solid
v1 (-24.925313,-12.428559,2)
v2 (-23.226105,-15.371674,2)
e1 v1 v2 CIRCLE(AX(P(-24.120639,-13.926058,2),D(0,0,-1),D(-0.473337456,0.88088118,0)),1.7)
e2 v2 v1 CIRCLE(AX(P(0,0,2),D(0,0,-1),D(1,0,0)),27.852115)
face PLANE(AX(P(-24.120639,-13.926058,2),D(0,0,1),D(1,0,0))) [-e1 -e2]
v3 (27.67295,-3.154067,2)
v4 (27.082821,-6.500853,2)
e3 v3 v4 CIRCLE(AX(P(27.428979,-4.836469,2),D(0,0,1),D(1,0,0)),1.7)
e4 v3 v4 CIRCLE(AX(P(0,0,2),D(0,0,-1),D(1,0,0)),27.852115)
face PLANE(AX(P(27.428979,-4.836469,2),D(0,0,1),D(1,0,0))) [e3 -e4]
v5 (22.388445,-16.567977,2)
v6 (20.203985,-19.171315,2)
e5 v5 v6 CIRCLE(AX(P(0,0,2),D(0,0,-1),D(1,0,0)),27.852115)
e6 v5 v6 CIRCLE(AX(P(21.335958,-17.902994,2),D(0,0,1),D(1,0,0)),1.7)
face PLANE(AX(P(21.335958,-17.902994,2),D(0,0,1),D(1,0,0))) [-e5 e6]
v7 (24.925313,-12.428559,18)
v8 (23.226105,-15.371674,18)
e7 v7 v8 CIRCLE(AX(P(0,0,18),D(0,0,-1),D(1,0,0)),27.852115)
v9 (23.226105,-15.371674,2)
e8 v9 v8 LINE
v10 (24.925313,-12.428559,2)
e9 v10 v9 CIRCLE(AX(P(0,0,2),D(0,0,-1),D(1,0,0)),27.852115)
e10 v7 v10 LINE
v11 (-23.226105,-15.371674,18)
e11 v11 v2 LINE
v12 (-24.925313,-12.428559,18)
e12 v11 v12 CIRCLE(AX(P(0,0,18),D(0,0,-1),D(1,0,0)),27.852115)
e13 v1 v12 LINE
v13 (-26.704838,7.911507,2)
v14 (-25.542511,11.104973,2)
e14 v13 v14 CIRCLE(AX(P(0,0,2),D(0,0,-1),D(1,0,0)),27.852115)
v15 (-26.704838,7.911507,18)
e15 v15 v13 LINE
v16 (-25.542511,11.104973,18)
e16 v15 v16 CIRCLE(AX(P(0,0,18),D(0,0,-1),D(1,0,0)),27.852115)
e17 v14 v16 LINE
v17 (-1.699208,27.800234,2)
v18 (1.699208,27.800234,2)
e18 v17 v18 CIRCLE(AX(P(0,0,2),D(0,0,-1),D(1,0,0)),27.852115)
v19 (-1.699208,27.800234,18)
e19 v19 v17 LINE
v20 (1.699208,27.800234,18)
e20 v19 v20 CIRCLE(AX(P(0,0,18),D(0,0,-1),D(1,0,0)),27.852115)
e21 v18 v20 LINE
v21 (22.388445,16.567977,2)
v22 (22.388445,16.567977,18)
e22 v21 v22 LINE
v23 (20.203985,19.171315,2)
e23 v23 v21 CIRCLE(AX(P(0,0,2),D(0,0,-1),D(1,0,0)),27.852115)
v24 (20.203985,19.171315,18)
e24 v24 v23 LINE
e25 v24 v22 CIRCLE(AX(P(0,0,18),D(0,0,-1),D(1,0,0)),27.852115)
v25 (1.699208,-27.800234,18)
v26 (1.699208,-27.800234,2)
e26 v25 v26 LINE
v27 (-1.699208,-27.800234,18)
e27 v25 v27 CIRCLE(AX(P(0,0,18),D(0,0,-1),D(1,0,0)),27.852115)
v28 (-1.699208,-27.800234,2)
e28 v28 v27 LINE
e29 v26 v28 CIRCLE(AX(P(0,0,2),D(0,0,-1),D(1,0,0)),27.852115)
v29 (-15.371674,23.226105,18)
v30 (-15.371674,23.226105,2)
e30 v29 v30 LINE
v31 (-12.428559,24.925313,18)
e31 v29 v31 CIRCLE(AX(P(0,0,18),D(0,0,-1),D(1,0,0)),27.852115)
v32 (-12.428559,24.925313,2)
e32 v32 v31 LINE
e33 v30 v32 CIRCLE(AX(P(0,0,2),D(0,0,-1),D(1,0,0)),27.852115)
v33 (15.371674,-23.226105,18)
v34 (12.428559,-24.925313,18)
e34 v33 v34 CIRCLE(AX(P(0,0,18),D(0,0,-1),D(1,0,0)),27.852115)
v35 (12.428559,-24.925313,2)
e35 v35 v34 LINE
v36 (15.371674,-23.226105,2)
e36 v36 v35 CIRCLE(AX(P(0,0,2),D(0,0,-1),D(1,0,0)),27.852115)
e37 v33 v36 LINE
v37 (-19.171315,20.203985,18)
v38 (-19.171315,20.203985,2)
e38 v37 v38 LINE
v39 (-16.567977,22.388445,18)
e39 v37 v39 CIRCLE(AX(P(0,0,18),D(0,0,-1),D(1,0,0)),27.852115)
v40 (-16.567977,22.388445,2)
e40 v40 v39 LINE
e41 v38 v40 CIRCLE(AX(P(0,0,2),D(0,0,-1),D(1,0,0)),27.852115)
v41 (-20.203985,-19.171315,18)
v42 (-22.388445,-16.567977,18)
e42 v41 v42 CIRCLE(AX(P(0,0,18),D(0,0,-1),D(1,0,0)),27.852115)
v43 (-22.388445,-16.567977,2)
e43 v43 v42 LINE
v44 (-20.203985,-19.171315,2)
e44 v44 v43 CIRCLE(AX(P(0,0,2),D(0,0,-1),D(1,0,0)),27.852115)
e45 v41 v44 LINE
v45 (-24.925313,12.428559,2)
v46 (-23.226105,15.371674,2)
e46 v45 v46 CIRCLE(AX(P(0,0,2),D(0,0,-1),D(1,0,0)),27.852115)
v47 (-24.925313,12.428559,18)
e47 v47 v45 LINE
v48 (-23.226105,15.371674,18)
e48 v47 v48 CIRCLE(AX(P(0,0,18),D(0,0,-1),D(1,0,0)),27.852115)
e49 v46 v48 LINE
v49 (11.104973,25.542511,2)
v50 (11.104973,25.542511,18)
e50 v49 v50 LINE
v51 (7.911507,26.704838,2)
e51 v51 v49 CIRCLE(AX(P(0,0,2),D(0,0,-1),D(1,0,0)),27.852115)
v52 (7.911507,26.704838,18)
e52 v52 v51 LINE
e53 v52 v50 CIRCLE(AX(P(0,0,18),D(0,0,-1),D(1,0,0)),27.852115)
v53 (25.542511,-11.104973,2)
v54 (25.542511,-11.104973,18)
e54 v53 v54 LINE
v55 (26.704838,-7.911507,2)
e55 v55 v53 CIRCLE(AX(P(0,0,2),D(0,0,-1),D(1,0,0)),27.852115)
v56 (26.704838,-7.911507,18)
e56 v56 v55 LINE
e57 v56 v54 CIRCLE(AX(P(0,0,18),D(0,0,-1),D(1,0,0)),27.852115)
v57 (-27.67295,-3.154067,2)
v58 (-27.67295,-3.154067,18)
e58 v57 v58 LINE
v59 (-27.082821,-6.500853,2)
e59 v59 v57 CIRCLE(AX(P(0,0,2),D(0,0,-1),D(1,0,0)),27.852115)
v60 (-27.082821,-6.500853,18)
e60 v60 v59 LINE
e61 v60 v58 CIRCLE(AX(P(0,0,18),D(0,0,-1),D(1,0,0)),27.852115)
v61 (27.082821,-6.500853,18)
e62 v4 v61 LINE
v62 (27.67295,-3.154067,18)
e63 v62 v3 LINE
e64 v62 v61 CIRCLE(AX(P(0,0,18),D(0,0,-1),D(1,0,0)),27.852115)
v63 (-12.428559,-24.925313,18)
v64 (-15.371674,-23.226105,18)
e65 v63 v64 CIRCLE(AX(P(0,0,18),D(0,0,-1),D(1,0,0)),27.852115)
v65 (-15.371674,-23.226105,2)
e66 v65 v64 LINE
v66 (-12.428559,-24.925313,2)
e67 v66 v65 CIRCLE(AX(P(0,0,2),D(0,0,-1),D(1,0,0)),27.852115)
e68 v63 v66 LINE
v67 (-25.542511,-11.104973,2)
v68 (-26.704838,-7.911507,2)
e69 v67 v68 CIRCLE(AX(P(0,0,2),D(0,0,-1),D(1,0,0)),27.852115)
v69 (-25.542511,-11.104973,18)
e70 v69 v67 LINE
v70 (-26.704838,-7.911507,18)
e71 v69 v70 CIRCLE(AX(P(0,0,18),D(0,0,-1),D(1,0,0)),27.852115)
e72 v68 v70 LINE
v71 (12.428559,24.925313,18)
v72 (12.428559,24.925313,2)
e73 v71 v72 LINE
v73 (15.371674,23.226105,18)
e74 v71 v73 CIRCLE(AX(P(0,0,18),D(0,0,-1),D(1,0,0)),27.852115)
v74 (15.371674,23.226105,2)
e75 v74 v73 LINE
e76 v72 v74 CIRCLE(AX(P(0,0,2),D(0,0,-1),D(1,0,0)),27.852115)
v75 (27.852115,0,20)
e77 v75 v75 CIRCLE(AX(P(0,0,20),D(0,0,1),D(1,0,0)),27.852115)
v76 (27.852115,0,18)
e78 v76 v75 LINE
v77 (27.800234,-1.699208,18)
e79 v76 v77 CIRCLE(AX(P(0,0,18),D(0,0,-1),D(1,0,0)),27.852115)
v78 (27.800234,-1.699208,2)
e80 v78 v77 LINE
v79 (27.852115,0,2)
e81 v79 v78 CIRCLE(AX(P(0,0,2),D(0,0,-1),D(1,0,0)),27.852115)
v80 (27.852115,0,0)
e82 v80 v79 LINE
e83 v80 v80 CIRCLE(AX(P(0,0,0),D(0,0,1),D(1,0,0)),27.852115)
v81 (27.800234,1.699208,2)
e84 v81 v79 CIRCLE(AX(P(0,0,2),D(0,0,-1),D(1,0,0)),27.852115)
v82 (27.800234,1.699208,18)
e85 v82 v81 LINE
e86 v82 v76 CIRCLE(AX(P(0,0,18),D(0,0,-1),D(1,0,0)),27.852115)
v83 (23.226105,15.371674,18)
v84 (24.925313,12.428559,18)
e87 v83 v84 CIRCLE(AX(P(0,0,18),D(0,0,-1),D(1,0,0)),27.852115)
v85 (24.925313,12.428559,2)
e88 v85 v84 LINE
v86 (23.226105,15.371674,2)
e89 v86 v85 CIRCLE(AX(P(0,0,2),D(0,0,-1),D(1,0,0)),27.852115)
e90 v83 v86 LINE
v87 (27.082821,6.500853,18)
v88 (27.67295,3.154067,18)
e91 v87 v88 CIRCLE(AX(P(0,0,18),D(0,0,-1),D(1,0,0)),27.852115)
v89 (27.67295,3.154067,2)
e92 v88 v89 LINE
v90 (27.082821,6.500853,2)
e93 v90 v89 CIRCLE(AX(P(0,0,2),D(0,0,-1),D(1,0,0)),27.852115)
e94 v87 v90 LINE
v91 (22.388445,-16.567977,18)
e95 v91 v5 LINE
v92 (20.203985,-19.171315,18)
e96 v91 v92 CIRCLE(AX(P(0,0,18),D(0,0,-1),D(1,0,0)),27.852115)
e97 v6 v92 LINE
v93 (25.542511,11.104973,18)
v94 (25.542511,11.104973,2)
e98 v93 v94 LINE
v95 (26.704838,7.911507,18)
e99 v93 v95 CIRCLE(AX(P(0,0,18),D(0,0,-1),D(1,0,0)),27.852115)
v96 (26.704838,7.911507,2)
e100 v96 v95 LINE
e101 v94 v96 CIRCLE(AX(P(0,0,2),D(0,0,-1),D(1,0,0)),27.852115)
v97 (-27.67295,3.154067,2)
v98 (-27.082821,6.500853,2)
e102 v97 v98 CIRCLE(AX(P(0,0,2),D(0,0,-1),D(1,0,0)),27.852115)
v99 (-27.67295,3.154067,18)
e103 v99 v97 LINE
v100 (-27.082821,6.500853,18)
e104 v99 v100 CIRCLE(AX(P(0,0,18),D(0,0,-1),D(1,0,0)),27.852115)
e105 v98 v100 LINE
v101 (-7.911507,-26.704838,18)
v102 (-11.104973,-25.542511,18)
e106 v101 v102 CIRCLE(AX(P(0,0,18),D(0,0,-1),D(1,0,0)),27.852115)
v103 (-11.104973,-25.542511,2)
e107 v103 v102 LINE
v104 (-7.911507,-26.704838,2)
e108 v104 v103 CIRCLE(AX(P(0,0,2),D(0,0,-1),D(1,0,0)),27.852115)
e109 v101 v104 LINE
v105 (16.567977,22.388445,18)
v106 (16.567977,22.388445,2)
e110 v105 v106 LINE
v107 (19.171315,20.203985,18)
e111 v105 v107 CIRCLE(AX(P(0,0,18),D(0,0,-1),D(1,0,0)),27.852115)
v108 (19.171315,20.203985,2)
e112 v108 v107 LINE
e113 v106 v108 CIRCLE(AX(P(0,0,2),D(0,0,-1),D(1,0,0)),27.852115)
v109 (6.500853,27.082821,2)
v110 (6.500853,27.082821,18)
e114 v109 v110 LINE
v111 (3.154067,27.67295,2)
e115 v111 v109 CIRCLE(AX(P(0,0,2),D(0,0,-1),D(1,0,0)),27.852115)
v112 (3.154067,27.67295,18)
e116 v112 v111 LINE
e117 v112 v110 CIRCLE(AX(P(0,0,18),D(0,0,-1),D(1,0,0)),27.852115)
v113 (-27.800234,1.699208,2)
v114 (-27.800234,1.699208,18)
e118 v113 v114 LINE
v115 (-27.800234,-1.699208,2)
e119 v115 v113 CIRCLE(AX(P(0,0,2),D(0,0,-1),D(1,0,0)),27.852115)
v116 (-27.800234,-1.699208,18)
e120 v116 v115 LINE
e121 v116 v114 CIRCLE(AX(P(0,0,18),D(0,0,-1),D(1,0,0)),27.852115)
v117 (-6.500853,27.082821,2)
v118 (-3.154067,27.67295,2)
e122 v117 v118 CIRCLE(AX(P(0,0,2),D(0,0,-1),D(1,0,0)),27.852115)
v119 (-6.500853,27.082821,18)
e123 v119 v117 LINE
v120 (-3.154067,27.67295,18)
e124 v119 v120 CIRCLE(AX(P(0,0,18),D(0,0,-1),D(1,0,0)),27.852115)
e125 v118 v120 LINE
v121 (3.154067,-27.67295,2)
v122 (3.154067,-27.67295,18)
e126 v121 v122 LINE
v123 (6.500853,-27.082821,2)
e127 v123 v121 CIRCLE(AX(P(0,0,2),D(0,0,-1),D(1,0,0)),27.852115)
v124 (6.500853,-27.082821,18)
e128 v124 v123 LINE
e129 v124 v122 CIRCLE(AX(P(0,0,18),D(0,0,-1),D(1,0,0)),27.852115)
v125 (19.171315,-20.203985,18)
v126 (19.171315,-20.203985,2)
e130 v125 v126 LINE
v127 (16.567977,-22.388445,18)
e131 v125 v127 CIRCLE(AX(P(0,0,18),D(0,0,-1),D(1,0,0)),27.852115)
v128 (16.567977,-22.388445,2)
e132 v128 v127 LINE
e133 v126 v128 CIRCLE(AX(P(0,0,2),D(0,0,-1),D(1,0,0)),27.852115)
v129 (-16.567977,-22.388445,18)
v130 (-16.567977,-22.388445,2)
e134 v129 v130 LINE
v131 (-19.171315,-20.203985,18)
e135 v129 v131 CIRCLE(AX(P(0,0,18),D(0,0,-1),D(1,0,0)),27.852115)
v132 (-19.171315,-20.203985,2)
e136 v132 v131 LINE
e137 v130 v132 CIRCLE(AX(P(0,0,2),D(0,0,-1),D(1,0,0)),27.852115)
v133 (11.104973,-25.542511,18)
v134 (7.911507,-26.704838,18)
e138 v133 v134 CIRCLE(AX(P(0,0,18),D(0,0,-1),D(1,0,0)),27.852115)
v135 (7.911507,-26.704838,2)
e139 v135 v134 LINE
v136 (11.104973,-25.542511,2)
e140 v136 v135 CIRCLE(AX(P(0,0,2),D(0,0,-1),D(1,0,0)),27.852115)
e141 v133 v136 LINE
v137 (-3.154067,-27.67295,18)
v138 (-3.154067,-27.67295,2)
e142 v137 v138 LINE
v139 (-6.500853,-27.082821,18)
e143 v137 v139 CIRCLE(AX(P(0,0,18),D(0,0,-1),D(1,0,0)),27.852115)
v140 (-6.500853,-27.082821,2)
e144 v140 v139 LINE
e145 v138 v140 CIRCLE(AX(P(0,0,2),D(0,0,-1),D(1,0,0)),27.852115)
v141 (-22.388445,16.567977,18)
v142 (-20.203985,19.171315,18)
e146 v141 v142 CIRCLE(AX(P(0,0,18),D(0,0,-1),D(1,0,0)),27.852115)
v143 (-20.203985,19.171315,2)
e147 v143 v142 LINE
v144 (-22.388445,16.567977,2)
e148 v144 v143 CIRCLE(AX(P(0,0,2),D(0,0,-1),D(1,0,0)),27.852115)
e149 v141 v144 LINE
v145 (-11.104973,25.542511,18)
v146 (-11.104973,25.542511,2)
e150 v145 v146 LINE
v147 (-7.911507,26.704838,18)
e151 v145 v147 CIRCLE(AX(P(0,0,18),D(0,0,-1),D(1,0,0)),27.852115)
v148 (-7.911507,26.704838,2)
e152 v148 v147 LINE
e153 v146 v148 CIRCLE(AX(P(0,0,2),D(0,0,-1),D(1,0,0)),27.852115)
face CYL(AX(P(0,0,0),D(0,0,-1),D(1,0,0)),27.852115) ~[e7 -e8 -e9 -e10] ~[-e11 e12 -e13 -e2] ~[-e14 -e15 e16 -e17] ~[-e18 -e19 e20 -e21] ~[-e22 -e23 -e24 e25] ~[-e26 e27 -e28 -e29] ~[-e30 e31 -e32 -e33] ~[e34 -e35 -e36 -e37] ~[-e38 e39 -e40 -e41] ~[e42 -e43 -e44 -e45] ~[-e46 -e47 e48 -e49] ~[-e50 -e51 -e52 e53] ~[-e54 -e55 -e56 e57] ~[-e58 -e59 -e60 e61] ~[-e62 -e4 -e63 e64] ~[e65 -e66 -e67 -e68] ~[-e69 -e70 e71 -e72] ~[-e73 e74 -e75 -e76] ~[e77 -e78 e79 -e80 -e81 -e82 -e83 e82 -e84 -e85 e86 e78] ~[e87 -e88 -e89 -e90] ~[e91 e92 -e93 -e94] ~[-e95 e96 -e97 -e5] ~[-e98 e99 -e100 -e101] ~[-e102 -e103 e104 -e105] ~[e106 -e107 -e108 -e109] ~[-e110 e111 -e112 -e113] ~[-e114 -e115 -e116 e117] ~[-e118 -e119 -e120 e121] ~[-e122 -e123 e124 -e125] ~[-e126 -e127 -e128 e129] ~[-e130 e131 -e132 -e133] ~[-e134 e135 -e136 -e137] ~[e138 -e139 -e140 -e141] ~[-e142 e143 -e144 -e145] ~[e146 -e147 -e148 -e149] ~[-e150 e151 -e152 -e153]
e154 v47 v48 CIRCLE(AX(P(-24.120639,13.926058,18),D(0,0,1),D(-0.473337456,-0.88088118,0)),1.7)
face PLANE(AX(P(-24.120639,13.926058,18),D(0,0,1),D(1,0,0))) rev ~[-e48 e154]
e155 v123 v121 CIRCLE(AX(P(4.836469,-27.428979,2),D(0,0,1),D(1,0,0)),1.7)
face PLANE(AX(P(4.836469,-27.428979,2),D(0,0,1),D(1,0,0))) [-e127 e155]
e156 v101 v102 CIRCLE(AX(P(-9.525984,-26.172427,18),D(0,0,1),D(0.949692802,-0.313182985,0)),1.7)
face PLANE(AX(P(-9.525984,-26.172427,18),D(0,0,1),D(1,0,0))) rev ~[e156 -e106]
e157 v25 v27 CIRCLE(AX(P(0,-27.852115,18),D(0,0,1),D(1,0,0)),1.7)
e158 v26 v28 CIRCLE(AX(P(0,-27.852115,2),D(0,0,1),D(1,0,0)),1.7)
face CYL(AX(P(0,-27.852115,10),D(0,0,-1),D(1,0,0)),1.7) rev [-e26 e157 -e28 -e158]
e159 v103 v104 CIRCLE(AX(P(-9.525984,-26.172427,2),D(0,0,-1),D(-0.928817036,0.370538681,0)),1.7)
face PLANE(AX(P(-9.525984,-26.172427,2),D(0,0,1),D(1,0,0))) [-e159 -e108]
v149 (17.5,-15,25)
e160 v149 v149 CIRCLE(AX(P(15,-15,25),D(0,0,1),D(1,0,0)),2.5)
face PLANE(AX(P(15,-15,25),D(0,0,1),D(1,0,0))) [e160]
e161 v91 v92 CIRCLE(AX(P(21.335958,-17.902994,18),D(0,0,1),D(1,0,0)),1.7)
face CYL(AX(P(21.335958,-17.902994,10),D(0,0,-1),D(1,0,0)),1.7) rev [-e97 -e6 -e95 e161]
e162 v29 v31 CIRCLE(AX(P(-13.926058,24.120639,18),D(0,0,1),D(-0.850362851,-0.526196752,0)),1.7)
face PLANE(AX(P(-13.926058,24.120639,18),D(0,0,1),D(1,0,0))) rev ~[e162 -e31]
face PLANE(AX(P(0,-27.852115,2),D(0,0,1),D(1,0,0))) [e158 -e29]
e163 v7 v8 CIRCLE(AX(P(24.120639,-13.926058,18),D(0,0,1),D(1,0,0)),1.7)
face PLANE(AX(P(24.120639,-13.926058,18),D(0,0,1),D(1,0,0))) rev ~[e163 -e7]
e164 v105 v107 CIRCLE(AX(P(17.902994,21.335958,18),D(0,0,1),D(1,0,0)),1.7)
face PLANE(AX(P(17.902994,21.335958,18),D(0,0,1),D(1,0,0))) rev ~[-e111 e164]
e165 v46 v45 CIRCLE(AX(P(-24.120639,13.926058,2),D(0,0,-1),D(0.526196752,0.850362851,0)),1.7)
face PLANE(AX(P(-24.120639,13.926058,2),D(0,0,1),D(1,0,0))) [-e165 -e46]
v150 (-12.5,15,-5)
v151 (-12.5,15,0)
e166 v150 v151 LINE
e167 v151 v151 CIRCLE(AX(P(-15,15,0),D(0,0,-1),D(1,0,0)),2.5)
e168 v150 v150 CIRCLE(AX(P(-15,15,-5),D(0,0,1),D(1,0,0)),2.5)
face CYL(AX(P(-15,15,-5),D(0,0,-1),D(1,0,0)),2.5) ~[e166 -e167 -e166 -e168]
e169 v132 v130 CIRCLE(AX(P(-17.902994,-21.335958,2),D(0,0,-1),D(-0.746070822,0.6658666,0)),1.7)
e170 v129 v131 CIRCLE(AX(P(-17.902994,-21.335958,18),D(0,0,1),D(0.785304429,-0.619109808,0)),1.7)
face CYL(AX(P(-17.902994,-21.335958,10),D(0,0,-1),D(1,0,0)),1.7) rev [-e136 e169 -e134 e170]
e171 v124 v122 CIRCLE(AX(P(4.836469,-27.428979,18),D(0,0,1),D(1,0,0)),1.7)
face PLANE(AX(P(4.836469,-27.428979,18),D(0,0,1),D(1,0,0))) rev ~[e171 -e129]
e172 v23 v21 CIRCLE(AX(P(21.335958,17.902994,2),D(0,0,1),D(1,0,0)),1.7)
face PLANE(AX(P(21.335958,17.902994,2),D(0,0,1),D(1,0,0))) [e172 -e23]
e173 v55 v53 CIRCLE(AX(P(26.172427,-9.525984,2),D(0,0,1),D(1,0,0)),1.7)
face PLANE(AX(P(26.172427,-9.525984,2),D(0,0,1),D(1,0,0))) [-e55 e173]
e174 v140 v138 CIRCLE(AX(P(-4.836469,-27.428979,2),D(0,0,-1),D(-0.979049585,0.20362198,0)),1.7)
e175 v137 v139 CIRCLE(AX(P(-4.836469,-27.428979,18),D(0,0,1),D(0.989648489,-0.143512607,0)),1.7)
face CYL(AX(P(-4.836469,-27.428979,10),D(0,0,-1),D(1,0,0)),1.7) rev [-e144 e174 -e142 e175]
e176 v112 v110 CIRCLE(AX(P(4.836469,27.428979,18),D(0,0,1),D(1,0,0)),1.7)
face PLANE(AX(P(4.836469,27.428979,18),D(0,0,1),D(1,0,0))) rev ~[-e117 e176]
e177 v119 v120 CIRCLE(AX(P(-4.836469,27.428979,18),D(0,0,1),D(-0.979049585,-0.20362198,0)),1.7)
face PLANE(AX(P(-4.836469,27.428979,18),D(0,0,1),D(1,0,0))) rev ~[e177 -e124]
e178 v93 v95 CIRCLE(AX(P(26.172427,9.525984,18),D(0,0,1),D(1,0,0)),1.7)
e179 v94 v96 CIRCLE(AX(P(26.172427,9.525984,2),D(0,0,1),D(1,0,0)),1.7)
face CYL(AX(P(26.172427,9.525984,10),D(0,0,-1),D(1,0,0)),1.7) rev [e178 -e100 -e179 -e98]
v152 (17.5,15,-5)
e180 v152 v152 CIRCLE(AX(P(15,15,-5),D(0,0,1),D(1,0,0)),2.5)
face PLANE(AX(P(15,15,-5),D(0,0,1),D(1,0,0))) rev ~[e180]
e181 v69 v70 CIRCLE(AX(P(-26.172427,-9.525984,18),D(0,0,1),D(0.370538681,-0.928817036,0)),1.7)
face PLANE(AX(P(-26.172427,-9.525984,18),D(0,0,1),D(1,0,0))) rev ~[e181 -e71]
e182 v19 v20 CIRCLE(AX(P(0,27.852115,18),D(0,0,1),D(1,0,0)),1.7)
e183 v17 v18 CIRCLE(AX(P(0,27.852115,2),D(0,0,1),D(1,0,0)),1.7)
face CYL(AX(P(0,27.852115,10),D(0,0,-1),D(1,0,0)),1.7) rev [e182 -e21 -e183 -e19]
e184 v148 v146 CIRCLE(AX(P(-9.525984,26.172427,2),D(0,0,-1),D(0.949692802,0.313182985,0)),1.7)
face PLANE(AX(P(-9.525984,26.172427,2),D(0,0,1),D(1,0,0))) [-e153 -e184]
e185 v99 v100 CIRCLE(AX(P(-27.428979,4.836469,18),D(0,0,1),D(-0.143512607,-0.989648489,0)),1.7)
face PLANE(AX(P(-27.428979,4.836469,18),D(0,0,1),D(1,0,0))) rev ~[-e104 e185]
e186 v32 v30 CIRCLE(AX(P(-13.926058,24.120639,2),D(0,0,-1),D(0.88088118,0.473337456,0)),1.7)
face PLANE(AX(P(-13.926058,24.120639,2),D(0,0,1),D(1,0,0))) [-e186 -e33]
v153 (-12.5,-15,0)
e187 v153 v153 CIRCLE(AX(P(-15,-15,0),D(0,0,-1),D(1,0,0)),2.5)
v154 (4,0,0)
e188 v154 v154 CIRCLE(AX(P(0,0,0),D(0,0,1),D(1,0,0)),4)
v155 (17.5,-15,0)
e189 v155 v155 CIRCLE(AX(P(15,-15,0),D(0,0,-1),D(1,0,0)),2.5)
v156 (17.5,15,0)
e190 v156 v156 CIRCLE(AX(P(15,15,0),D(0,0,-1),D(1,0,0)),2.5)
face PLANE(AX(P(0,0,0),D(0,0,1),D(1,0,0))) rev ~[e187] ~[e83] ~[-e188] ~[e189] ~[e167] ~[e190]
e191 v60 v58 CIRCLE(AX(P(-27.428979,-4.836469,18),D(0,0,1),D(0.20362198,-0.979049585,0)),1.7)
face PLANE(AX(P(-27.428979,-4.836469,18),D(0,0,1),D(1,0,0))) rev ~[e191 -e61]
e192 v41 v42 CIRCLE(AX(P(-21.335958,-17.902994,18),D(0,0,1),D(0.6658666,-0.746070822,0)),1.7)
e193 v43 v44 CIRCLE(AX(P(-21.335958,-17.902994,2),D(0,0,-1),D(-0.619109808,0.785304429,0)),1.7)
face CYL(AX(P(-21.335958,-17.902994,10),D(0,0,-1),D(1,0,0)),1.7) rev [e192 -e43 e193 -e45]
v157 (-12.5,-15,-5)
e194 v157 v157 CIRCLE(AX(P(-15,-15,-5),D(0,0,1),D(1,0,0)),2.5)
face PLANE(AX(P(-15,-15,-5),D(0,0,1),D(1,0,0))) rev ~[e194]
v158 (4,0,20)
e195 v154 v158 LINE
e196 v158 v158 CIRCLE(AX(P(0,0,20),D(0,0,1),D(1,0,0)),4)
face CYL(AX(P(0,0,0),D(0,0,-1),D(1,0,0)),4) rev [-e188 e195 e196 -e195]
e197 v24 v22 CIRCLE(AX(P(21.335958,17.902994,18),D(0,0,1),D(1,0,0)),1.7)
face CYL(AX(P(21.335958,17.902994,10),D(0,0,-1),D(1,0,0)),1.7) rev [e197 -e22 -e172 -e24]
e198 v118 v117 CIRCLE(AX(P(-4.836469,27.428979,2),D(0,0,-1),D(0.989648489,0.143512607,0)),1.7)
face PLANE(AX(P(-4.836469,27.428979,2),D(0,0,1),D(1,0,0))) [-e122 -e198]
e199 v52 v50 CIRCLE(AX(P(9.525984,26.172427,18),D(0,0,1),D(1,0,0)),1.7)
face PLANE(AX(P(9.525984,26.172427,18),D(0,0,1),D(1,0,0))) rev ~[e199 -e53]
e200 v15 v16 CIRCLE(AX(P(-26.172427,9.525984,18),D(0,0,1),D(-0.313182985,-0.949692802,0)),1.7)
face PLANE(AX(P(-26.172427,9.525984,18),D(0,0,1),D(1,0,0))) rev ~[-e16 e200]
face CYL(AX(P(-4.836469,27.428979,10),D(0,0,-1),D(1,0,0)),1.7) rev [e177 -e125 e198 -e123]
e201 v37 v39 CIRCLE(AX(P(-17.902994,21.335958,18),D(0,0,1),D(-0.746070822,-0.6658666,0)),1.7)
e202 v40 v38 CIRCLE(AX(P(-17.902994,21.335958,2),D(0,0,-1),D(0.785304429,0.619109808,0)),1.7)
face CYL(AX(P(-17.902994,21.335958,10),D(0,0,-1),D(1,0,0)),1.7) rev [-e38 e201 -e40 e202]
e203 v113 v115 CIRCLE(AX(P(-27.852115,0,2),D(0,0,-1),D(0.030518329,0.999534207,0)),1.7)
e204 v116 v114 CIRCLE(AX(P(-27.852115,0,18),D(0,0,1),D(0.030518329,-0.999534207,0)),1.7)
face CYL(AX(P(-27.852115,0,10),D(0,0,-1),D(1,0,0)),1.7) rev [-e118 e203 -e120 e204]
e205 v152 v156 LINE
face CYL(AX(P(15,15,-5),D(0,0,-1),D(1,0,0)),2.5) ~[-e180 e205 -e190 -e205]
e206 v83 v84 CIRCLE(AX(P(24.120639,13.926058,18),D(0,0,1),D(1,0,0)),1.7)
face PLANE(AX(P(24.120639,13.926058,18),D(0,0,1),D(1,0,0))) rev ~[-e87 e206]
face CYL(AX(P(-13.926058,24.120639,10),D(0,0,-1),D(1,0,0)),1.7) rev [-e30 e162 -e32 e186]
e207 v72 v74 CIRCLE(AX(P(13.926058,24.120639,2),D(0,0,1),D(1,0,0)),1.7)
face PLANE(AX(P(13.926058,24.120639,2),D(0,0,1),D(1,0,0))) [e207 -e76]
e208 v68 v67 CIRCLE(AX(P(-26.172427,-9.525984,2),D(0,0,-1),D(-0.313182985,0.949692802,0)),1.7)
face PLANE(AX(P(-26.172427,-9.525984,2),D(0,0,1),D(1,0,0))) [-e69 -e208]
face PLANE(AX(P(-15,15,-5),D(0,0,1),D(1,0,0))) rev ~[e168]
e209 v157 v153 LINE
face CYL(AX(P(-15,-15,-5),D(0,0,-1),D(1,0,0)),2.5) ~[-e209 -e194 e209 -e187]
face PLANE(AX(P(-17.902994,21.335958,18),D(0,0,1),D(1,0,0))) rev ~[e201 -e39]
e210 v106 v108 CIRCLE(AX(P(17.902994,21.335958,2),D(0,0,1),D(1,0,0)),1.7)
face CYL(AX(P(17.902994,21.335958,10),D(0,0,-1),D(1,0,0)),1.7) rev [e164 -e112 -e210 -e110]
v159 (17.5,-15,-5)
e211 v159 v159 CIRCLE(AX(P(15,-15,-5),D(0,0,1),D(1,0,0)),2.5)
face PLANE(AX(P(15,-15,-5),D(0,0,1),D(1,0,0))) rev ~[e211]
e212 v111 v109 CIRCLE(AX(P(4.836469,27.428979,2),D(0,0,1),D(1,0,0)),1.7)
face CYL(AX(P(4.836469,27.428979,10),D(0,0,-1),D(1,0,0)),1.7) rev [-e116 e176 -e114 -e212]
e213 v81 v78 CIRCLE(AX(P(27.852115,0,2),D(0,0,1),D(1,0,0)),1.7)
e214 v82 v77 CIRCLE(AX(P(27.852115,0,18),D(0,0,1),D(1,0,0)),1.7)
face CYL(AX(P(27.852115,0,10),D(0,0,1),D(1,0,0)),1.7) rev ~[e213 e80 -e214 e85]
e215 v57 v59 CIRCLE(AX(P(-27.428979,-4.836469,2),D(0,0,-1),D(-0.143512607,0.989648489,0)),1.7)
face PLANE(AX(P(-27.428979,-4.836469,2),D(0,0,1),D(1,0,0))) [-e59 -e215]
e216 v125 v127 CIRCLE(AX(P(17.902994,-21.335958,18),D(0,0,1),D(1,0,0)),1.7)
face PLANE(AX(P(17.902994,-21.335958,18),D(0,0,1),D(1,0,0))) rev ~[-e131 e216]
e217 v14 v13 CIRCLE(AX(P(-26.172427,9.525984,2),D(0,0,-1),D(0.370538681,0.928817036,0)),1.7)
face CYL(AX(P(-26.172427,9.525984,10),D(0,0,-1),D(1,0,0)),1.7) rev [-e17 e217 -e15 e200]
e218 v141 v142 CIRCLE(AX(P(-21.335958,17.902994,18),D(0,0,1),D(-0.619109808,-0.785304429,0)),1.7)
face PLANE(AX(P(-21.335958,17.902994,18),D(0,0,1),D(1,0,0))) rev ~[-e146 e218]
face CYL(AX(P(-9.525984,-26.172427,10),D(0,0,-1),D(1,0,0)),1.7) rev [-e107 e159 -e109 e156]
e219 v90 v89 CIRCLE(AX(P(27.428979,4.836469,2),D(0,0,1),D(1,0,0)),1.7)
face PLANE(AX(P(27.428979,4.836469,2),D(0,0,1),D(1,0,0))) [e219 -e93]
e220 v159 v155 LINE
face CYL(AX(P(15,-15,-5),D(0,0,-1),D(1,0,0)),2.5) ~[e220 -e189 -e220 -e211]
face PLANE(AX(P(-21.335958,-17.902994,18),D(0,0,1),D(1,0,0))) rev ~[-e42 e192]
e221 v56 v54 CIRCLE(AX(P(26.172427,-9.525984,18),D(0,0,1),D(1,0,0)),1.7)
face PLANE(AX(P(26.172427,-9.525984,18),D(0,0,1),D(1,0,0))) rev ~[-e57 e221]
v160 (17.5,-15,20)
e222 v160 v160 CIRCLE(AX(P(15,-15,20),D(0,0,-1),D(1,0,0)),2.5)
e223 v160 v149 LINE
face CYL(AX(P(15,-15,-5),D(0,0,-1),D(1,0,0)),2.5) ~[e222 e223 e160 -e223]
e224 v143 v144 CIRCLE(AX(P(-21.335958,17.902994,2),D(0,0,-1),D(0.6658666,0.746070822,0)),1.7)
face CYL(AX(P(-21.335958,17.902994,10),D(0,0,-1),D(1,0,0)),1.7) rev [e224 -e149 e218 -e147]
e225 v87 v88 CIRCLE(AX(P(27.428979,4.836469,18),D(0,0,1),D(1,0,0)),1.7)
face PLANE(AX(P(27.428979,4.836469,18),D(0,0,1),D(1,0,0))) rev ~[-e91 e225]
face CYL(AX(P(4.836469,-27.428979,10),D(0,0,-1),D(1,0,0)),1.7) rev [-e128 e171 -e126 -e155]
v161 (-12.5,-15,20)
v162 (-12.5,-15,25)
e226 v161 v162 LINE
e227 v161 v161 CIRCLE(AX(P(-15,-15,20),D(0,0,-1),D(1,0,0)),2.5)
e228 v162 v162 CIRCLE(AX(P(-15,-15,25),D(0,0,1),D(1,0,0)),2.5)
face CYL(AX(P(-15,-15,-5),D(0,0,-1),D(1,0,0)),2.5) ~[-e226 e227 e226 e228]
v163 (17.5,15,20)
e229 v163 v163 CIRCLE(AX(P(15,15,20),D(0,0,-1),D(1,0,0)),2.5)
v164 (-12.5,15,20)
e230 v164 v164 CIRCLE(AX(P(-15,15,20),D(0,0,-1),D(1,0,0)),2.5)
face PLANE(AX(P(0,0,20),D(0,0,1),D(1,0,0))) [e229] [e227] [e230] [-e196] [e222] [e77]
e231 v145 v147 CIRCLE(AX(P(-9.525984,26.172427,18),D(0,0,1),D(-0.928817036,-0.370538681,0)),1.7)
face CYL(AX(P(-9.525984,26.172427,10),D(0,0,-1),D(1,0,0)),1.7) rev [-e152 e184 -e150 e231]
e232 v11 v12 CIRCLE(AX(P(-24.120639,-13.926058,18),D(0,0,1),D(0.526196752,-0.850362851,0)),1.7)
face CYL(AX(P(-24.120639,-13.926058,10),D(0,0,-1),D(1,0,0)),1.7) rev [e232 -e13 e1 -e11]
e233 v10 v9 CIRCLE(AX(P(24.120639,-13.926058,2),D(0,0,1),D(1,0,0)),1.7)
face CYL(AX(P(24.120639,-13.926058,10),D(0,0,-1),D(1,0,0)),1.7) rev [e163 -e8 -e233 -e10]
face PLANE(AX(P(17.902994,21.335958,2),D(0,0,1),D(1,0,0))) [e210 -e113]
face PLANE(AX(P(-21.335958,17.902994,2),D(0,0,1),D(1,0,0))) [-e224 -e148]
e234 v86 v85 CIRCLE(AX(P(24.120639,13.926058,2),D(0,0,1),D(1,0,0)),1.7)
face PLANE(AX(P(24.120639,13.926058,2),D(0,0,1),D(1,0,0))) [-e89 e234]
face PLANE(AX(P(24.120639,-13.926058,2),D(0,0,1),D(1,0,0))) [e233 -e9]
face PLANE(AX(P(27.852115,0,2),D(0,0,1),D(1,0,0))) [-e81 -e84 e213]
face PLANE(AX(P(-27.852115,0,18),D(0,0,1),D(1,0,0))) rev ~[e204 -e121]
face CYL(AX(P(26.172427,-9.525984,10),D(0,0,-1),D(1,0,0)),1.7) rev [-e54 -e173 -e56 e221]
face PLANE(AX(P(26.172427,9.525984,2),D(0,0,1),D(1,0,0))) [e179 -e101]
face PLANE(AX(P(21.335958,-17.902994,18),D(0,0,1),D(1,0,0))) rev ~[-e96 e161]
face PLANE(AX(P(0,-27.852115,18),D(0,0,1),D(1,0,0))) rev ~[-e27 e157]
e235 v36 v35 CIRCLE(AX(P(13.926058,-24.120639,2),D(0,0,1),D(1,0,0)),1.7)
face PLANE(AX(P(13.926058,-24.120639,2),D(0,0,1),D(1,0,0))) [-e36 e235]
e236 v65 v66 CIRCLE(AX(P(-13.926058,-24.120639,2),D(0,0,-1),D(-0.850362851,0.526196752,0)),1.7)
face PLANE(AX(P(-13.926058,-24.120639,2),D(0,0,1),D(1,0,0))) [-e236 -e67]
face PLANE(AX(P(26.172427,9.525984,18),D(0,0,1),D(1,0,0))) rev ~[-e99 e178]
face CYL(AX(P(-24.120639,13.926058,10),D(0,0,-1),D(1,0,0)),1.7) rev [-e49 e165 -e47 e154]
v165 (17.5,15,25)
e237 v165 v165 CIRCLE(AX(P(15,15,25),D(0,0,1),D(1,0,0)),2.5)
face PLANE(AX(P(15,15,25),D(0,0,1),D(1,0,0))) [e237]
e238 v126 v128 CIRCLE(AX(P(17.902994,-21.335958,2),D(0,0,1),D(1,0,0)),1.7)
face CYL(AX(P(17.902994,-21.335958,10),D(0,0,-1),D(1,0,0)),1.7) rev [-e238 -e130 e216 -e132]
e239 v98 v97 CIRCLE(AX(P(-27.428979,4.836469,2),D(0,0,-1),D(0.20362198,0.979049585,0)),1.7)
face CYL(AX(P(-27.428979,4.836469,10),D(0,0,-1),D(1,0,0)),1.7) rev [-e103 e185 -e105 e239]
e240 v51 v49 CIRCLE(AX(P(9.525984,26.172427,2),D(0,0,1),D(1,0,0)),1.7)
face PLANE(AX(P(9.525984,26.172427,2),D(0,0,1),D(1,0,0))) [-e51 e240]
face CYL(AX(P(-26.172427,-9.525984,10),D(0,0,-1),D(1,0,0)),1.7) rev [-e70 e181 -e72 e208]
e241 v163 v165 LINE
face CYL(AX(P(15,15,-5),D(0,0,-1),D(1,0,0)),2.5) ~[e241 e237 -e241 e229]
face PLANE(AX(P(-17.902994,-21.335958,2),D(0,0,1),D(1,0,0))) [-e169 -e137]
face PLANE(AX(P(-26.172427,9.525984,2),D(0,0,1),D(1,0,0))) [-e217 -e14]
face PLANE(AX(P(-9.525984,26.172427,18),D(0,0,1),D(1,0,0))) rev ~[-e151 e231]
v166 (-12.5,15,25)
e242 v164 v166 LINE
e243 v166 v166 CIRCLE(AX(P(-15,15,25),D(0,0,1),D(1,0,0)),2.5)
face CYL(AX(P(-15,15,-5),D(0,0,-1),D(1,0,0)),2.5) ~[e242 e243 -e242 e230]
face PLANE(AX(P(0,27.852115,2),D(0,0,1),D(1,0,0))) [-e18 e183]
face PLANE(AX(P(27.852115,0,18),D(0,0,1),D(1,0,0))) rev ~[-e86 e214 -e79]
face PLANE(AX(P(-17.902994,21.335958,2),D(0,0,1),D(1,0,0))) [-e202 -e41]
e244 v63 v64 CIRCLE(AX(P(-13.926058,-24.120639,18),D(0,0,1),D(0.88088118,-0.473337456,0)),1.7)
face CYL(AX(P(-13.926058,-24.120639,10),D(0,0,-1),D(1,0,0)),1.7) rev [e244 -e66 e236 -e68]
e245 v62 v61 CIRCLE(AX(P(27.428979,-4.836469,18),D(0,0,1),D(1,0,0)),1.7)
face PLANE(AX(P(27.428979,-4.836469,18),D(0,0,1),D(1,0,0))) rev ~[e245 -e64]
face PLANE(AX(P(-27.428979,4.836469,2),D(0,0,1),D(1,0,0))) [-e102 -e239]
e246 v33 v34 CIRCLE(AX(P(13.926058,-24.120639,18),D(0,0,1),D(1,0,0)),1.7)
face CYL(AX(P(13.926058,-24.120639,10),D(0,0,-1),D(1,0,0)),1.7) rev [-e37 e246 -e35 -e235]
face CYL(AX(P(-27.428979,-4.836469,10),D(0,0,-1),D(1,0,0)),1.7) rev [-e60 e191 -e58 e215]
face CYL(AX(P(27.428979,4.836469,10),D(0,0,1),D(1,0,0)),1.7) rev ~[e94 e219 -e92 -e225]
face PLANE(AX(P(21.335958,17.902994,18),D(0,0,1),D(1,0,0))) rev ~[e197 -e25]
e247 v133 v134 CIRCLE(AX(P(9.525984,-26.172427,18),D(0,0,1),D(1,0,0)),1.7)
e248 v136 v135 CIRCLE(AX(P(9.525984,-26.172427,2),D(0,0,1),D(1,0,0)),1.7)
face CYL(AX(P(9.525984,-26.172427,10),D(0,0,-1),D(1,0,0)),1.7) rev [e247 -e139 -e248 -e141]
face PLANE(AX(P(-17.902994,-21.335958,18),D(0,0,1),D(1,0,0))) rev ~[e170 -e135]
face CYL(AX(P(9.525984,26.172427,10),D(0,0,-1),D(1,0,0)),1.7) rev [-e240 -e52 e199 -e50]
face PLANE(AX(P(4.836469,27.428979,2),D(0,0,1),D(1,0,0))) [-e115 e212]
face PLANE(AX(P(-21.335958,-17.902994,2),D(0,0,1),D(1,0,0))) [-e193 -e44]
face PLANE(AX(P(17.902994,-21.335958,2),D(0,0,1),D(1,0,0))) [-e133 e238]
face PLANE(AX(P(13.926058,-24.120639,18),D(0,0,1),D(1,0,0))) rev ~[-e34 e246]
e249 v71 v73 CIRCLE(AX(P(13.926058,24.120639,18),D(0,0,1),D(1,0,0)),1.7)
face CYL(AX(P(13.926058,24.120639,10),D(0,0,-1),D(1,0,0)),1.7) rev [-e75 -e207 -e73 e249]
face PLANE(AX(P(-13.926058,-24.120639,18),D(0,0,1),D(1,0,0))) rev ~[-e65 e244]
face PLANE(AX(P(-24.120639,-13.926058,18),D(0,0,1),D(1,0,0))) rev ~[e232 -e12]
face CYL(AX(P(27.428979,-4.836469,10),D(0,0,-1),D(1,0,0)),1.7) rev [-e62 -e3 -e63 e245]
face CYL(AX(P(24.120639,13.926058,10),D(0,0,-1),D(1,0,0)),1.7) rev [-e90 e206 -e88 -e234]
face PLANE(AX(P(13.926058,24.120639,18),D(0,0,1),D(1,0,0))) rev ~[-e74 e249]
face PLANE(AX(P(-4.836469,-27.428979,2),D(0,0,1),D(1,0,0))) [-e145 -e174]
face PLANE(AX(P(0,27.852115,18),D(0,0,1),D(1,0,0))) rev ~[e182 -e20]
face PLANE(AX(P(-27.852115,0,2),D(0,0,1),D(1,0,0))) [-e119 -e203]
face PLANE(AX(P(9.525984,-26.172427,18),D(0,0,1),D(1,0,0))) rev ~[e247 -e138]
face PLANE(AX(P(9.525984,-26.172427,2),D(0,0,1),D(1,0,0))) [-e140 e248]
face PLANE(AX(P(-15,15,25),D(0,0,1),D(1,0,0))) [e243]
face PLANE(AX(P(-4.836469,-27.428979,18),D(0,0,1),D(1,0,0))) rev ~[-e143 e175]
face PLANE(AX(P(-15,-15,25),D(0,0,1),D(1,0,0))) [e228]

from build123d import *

# Parameters (mm, degrees)
SKETCH1_R                = 27.852115
SKETCH1_R_2              = 4
BOSS_EXTRUDE1_DEPTH      = 20
BOSS_EXTRUDE2_DEPTH      = 15
BOSS_EXTRUDE2_DEPTH_BACK = 15
SKETCH2_R                = 2.5
SKETCH4_R                = 1.7
CUT_EXTRUDE1_DEPTH       = 8


with BuildPart() as part:
    # Sketch1 → Boss-Extrude1 (new body)
    with BuildSketch(Plane.XY):
        Circle(SKETCH1_R)
        Circle(SKETCH1_R_2, mode=Mode.SUBTRACT)
    extrude(amount=BOSS_EXTRUDE1_DEPTH)

    # Sketch2 → Boss-Extrude2 (add, two sides: drawn at the far end of the back side and taken through both)
    with BuildSketch(Plane.XY.offset(10).offset(-BOSS_EXTRUDE2_DEPTH_BACK)):
        with Locations((-15, 15)):
            Circle(SKETCH2_R)
        with Locations((15, 15)):
            Circle(SKETCH2_R)
        with Locations((15, -15)):
            Circle(SKETCH2_R)
        with Locations((-15, -15)):
            Circle(SKETCH2_R)
    extrude(amount=BOSS_EXTRUDE2_DEPTH + BOSS_EXTRUDE2_DEPTH_BACK)

    # Sketch4 → Cut-Extrude1 (cut, symmetric)
    with BuildSketch(Plane.XY.offset(10)):
        with Locations((27.852115, 0)):
            Circle(SKETCH4_R)
        with Locations((27.42897879, -4.836469014)):
            Circle(SKETCH4_R)
        with Locations((26.172426939, -9.525984364)):
            Circle(SKETCH4_R)
        with Locations((24.120639139, -13.9260575)):
            Circle(SKETCH4_R)
        with Locations((21.335957925, -17.902994426)):
            Circle(SKETCH4_R)
        with Locations((17.902994426, -21.335957925)):
            Circle(SKETCH4_R)
        with Locations((13.9260575, -24.120639139)):
            Circle(SKETCH4_R)
        with Locations((9.525984364, -26.172426939)):
            Circle(SKETCH4_R)
        with Locations((4.836469014, -27.42897879)):
            Circle(SKETCH4_R)
        with Locations((0, -27.852115)):
            Circle(SKETCH4_R)
        with Locations((-4.836469014, -27.42897879)):
            Circle(SKETCH4_R)
        with Locations((-9.525984364, -26.172426939)):
            Circle(SKETCH4_R)
        with Locations((-13.9260575, -24.120639139)):
            Circle(SKETCH4_R)
        with Locations((-17.902994426, -21.335957925)):
            Circle(SKETCH4_R)
        with Locations((-21.335957925, -17.902994426)):
            Circle(SKETCH4_R)
        with Locations((-24.120639139, -13.9260575)):
            Circle(SKETCH4_R)
        with Locations((-26.172426939, -9.525984364)):
            Circle(SKETCH4_R)
        with Locations((-27.42897879, -4.836469014)):
            Circle(SKETCH4_R)
        with Locations((-27.852115, 0)):
            Circle(SKETCH4_R)
        with Locations((-27.42897879, 4.836469014)):
            Circle(SKETCH4_R)
        with Locations((-26.172426939, 9.525984364)):
            Circle(SKETCH4_R)
        with Locations((-24.120639139, 13.9260575)):
            Circle(SKETCH4_R)
        with Locations((-21.335957925, 17.902994426)):
            Circle(SKETCH4_R)
        with Locations((-17.902994426, 21.335957925)):
            Circle(SKETCH4_R)
        with Locations((-13.9260575, 24.120639139)):
            Circle(SKETCH4_R)
        with Locations((-9.525984364, 26.172426939)):
            Circle(SKETCH4_R)
        with Locations((-4.836469014, 27.42897879)):
            Circle(SKETCH4_R)
        with Locations((0, 27.852115)):
            Circle(SKETCH4_R)
        with Locations((4.836469014, 27.42897879)):
            Circle(SKETCH4_R)
        with Locations((9.525984364, 26.172426939)):
            Circle(SKETCH4_R)
        with Locations((13.9260575, 24.120639139)):
            Circle(SKETCH4_R)
        with Locations((17.902994426, 21.335957925)):
            Circle(SKETCH4_R)
        with Locations((21.335957925, 17.902994426)):
            Circle(SKETCH4_R)
        with Locations((24.120639139, 13.9260575)):
            Circle(SKETCH4_R)
        with Locations((26.172426939, 9.525984364)):
            Circle(SKETCH4_R)
        with Locations((27.42897879, 4.836469014)):
            Circle(SKETCH4_R)
    extrude(amount=CUT_EXTRUDE1_DEPTH, both=True, mode=Mode.SUBTRACT)


solid = part.part
